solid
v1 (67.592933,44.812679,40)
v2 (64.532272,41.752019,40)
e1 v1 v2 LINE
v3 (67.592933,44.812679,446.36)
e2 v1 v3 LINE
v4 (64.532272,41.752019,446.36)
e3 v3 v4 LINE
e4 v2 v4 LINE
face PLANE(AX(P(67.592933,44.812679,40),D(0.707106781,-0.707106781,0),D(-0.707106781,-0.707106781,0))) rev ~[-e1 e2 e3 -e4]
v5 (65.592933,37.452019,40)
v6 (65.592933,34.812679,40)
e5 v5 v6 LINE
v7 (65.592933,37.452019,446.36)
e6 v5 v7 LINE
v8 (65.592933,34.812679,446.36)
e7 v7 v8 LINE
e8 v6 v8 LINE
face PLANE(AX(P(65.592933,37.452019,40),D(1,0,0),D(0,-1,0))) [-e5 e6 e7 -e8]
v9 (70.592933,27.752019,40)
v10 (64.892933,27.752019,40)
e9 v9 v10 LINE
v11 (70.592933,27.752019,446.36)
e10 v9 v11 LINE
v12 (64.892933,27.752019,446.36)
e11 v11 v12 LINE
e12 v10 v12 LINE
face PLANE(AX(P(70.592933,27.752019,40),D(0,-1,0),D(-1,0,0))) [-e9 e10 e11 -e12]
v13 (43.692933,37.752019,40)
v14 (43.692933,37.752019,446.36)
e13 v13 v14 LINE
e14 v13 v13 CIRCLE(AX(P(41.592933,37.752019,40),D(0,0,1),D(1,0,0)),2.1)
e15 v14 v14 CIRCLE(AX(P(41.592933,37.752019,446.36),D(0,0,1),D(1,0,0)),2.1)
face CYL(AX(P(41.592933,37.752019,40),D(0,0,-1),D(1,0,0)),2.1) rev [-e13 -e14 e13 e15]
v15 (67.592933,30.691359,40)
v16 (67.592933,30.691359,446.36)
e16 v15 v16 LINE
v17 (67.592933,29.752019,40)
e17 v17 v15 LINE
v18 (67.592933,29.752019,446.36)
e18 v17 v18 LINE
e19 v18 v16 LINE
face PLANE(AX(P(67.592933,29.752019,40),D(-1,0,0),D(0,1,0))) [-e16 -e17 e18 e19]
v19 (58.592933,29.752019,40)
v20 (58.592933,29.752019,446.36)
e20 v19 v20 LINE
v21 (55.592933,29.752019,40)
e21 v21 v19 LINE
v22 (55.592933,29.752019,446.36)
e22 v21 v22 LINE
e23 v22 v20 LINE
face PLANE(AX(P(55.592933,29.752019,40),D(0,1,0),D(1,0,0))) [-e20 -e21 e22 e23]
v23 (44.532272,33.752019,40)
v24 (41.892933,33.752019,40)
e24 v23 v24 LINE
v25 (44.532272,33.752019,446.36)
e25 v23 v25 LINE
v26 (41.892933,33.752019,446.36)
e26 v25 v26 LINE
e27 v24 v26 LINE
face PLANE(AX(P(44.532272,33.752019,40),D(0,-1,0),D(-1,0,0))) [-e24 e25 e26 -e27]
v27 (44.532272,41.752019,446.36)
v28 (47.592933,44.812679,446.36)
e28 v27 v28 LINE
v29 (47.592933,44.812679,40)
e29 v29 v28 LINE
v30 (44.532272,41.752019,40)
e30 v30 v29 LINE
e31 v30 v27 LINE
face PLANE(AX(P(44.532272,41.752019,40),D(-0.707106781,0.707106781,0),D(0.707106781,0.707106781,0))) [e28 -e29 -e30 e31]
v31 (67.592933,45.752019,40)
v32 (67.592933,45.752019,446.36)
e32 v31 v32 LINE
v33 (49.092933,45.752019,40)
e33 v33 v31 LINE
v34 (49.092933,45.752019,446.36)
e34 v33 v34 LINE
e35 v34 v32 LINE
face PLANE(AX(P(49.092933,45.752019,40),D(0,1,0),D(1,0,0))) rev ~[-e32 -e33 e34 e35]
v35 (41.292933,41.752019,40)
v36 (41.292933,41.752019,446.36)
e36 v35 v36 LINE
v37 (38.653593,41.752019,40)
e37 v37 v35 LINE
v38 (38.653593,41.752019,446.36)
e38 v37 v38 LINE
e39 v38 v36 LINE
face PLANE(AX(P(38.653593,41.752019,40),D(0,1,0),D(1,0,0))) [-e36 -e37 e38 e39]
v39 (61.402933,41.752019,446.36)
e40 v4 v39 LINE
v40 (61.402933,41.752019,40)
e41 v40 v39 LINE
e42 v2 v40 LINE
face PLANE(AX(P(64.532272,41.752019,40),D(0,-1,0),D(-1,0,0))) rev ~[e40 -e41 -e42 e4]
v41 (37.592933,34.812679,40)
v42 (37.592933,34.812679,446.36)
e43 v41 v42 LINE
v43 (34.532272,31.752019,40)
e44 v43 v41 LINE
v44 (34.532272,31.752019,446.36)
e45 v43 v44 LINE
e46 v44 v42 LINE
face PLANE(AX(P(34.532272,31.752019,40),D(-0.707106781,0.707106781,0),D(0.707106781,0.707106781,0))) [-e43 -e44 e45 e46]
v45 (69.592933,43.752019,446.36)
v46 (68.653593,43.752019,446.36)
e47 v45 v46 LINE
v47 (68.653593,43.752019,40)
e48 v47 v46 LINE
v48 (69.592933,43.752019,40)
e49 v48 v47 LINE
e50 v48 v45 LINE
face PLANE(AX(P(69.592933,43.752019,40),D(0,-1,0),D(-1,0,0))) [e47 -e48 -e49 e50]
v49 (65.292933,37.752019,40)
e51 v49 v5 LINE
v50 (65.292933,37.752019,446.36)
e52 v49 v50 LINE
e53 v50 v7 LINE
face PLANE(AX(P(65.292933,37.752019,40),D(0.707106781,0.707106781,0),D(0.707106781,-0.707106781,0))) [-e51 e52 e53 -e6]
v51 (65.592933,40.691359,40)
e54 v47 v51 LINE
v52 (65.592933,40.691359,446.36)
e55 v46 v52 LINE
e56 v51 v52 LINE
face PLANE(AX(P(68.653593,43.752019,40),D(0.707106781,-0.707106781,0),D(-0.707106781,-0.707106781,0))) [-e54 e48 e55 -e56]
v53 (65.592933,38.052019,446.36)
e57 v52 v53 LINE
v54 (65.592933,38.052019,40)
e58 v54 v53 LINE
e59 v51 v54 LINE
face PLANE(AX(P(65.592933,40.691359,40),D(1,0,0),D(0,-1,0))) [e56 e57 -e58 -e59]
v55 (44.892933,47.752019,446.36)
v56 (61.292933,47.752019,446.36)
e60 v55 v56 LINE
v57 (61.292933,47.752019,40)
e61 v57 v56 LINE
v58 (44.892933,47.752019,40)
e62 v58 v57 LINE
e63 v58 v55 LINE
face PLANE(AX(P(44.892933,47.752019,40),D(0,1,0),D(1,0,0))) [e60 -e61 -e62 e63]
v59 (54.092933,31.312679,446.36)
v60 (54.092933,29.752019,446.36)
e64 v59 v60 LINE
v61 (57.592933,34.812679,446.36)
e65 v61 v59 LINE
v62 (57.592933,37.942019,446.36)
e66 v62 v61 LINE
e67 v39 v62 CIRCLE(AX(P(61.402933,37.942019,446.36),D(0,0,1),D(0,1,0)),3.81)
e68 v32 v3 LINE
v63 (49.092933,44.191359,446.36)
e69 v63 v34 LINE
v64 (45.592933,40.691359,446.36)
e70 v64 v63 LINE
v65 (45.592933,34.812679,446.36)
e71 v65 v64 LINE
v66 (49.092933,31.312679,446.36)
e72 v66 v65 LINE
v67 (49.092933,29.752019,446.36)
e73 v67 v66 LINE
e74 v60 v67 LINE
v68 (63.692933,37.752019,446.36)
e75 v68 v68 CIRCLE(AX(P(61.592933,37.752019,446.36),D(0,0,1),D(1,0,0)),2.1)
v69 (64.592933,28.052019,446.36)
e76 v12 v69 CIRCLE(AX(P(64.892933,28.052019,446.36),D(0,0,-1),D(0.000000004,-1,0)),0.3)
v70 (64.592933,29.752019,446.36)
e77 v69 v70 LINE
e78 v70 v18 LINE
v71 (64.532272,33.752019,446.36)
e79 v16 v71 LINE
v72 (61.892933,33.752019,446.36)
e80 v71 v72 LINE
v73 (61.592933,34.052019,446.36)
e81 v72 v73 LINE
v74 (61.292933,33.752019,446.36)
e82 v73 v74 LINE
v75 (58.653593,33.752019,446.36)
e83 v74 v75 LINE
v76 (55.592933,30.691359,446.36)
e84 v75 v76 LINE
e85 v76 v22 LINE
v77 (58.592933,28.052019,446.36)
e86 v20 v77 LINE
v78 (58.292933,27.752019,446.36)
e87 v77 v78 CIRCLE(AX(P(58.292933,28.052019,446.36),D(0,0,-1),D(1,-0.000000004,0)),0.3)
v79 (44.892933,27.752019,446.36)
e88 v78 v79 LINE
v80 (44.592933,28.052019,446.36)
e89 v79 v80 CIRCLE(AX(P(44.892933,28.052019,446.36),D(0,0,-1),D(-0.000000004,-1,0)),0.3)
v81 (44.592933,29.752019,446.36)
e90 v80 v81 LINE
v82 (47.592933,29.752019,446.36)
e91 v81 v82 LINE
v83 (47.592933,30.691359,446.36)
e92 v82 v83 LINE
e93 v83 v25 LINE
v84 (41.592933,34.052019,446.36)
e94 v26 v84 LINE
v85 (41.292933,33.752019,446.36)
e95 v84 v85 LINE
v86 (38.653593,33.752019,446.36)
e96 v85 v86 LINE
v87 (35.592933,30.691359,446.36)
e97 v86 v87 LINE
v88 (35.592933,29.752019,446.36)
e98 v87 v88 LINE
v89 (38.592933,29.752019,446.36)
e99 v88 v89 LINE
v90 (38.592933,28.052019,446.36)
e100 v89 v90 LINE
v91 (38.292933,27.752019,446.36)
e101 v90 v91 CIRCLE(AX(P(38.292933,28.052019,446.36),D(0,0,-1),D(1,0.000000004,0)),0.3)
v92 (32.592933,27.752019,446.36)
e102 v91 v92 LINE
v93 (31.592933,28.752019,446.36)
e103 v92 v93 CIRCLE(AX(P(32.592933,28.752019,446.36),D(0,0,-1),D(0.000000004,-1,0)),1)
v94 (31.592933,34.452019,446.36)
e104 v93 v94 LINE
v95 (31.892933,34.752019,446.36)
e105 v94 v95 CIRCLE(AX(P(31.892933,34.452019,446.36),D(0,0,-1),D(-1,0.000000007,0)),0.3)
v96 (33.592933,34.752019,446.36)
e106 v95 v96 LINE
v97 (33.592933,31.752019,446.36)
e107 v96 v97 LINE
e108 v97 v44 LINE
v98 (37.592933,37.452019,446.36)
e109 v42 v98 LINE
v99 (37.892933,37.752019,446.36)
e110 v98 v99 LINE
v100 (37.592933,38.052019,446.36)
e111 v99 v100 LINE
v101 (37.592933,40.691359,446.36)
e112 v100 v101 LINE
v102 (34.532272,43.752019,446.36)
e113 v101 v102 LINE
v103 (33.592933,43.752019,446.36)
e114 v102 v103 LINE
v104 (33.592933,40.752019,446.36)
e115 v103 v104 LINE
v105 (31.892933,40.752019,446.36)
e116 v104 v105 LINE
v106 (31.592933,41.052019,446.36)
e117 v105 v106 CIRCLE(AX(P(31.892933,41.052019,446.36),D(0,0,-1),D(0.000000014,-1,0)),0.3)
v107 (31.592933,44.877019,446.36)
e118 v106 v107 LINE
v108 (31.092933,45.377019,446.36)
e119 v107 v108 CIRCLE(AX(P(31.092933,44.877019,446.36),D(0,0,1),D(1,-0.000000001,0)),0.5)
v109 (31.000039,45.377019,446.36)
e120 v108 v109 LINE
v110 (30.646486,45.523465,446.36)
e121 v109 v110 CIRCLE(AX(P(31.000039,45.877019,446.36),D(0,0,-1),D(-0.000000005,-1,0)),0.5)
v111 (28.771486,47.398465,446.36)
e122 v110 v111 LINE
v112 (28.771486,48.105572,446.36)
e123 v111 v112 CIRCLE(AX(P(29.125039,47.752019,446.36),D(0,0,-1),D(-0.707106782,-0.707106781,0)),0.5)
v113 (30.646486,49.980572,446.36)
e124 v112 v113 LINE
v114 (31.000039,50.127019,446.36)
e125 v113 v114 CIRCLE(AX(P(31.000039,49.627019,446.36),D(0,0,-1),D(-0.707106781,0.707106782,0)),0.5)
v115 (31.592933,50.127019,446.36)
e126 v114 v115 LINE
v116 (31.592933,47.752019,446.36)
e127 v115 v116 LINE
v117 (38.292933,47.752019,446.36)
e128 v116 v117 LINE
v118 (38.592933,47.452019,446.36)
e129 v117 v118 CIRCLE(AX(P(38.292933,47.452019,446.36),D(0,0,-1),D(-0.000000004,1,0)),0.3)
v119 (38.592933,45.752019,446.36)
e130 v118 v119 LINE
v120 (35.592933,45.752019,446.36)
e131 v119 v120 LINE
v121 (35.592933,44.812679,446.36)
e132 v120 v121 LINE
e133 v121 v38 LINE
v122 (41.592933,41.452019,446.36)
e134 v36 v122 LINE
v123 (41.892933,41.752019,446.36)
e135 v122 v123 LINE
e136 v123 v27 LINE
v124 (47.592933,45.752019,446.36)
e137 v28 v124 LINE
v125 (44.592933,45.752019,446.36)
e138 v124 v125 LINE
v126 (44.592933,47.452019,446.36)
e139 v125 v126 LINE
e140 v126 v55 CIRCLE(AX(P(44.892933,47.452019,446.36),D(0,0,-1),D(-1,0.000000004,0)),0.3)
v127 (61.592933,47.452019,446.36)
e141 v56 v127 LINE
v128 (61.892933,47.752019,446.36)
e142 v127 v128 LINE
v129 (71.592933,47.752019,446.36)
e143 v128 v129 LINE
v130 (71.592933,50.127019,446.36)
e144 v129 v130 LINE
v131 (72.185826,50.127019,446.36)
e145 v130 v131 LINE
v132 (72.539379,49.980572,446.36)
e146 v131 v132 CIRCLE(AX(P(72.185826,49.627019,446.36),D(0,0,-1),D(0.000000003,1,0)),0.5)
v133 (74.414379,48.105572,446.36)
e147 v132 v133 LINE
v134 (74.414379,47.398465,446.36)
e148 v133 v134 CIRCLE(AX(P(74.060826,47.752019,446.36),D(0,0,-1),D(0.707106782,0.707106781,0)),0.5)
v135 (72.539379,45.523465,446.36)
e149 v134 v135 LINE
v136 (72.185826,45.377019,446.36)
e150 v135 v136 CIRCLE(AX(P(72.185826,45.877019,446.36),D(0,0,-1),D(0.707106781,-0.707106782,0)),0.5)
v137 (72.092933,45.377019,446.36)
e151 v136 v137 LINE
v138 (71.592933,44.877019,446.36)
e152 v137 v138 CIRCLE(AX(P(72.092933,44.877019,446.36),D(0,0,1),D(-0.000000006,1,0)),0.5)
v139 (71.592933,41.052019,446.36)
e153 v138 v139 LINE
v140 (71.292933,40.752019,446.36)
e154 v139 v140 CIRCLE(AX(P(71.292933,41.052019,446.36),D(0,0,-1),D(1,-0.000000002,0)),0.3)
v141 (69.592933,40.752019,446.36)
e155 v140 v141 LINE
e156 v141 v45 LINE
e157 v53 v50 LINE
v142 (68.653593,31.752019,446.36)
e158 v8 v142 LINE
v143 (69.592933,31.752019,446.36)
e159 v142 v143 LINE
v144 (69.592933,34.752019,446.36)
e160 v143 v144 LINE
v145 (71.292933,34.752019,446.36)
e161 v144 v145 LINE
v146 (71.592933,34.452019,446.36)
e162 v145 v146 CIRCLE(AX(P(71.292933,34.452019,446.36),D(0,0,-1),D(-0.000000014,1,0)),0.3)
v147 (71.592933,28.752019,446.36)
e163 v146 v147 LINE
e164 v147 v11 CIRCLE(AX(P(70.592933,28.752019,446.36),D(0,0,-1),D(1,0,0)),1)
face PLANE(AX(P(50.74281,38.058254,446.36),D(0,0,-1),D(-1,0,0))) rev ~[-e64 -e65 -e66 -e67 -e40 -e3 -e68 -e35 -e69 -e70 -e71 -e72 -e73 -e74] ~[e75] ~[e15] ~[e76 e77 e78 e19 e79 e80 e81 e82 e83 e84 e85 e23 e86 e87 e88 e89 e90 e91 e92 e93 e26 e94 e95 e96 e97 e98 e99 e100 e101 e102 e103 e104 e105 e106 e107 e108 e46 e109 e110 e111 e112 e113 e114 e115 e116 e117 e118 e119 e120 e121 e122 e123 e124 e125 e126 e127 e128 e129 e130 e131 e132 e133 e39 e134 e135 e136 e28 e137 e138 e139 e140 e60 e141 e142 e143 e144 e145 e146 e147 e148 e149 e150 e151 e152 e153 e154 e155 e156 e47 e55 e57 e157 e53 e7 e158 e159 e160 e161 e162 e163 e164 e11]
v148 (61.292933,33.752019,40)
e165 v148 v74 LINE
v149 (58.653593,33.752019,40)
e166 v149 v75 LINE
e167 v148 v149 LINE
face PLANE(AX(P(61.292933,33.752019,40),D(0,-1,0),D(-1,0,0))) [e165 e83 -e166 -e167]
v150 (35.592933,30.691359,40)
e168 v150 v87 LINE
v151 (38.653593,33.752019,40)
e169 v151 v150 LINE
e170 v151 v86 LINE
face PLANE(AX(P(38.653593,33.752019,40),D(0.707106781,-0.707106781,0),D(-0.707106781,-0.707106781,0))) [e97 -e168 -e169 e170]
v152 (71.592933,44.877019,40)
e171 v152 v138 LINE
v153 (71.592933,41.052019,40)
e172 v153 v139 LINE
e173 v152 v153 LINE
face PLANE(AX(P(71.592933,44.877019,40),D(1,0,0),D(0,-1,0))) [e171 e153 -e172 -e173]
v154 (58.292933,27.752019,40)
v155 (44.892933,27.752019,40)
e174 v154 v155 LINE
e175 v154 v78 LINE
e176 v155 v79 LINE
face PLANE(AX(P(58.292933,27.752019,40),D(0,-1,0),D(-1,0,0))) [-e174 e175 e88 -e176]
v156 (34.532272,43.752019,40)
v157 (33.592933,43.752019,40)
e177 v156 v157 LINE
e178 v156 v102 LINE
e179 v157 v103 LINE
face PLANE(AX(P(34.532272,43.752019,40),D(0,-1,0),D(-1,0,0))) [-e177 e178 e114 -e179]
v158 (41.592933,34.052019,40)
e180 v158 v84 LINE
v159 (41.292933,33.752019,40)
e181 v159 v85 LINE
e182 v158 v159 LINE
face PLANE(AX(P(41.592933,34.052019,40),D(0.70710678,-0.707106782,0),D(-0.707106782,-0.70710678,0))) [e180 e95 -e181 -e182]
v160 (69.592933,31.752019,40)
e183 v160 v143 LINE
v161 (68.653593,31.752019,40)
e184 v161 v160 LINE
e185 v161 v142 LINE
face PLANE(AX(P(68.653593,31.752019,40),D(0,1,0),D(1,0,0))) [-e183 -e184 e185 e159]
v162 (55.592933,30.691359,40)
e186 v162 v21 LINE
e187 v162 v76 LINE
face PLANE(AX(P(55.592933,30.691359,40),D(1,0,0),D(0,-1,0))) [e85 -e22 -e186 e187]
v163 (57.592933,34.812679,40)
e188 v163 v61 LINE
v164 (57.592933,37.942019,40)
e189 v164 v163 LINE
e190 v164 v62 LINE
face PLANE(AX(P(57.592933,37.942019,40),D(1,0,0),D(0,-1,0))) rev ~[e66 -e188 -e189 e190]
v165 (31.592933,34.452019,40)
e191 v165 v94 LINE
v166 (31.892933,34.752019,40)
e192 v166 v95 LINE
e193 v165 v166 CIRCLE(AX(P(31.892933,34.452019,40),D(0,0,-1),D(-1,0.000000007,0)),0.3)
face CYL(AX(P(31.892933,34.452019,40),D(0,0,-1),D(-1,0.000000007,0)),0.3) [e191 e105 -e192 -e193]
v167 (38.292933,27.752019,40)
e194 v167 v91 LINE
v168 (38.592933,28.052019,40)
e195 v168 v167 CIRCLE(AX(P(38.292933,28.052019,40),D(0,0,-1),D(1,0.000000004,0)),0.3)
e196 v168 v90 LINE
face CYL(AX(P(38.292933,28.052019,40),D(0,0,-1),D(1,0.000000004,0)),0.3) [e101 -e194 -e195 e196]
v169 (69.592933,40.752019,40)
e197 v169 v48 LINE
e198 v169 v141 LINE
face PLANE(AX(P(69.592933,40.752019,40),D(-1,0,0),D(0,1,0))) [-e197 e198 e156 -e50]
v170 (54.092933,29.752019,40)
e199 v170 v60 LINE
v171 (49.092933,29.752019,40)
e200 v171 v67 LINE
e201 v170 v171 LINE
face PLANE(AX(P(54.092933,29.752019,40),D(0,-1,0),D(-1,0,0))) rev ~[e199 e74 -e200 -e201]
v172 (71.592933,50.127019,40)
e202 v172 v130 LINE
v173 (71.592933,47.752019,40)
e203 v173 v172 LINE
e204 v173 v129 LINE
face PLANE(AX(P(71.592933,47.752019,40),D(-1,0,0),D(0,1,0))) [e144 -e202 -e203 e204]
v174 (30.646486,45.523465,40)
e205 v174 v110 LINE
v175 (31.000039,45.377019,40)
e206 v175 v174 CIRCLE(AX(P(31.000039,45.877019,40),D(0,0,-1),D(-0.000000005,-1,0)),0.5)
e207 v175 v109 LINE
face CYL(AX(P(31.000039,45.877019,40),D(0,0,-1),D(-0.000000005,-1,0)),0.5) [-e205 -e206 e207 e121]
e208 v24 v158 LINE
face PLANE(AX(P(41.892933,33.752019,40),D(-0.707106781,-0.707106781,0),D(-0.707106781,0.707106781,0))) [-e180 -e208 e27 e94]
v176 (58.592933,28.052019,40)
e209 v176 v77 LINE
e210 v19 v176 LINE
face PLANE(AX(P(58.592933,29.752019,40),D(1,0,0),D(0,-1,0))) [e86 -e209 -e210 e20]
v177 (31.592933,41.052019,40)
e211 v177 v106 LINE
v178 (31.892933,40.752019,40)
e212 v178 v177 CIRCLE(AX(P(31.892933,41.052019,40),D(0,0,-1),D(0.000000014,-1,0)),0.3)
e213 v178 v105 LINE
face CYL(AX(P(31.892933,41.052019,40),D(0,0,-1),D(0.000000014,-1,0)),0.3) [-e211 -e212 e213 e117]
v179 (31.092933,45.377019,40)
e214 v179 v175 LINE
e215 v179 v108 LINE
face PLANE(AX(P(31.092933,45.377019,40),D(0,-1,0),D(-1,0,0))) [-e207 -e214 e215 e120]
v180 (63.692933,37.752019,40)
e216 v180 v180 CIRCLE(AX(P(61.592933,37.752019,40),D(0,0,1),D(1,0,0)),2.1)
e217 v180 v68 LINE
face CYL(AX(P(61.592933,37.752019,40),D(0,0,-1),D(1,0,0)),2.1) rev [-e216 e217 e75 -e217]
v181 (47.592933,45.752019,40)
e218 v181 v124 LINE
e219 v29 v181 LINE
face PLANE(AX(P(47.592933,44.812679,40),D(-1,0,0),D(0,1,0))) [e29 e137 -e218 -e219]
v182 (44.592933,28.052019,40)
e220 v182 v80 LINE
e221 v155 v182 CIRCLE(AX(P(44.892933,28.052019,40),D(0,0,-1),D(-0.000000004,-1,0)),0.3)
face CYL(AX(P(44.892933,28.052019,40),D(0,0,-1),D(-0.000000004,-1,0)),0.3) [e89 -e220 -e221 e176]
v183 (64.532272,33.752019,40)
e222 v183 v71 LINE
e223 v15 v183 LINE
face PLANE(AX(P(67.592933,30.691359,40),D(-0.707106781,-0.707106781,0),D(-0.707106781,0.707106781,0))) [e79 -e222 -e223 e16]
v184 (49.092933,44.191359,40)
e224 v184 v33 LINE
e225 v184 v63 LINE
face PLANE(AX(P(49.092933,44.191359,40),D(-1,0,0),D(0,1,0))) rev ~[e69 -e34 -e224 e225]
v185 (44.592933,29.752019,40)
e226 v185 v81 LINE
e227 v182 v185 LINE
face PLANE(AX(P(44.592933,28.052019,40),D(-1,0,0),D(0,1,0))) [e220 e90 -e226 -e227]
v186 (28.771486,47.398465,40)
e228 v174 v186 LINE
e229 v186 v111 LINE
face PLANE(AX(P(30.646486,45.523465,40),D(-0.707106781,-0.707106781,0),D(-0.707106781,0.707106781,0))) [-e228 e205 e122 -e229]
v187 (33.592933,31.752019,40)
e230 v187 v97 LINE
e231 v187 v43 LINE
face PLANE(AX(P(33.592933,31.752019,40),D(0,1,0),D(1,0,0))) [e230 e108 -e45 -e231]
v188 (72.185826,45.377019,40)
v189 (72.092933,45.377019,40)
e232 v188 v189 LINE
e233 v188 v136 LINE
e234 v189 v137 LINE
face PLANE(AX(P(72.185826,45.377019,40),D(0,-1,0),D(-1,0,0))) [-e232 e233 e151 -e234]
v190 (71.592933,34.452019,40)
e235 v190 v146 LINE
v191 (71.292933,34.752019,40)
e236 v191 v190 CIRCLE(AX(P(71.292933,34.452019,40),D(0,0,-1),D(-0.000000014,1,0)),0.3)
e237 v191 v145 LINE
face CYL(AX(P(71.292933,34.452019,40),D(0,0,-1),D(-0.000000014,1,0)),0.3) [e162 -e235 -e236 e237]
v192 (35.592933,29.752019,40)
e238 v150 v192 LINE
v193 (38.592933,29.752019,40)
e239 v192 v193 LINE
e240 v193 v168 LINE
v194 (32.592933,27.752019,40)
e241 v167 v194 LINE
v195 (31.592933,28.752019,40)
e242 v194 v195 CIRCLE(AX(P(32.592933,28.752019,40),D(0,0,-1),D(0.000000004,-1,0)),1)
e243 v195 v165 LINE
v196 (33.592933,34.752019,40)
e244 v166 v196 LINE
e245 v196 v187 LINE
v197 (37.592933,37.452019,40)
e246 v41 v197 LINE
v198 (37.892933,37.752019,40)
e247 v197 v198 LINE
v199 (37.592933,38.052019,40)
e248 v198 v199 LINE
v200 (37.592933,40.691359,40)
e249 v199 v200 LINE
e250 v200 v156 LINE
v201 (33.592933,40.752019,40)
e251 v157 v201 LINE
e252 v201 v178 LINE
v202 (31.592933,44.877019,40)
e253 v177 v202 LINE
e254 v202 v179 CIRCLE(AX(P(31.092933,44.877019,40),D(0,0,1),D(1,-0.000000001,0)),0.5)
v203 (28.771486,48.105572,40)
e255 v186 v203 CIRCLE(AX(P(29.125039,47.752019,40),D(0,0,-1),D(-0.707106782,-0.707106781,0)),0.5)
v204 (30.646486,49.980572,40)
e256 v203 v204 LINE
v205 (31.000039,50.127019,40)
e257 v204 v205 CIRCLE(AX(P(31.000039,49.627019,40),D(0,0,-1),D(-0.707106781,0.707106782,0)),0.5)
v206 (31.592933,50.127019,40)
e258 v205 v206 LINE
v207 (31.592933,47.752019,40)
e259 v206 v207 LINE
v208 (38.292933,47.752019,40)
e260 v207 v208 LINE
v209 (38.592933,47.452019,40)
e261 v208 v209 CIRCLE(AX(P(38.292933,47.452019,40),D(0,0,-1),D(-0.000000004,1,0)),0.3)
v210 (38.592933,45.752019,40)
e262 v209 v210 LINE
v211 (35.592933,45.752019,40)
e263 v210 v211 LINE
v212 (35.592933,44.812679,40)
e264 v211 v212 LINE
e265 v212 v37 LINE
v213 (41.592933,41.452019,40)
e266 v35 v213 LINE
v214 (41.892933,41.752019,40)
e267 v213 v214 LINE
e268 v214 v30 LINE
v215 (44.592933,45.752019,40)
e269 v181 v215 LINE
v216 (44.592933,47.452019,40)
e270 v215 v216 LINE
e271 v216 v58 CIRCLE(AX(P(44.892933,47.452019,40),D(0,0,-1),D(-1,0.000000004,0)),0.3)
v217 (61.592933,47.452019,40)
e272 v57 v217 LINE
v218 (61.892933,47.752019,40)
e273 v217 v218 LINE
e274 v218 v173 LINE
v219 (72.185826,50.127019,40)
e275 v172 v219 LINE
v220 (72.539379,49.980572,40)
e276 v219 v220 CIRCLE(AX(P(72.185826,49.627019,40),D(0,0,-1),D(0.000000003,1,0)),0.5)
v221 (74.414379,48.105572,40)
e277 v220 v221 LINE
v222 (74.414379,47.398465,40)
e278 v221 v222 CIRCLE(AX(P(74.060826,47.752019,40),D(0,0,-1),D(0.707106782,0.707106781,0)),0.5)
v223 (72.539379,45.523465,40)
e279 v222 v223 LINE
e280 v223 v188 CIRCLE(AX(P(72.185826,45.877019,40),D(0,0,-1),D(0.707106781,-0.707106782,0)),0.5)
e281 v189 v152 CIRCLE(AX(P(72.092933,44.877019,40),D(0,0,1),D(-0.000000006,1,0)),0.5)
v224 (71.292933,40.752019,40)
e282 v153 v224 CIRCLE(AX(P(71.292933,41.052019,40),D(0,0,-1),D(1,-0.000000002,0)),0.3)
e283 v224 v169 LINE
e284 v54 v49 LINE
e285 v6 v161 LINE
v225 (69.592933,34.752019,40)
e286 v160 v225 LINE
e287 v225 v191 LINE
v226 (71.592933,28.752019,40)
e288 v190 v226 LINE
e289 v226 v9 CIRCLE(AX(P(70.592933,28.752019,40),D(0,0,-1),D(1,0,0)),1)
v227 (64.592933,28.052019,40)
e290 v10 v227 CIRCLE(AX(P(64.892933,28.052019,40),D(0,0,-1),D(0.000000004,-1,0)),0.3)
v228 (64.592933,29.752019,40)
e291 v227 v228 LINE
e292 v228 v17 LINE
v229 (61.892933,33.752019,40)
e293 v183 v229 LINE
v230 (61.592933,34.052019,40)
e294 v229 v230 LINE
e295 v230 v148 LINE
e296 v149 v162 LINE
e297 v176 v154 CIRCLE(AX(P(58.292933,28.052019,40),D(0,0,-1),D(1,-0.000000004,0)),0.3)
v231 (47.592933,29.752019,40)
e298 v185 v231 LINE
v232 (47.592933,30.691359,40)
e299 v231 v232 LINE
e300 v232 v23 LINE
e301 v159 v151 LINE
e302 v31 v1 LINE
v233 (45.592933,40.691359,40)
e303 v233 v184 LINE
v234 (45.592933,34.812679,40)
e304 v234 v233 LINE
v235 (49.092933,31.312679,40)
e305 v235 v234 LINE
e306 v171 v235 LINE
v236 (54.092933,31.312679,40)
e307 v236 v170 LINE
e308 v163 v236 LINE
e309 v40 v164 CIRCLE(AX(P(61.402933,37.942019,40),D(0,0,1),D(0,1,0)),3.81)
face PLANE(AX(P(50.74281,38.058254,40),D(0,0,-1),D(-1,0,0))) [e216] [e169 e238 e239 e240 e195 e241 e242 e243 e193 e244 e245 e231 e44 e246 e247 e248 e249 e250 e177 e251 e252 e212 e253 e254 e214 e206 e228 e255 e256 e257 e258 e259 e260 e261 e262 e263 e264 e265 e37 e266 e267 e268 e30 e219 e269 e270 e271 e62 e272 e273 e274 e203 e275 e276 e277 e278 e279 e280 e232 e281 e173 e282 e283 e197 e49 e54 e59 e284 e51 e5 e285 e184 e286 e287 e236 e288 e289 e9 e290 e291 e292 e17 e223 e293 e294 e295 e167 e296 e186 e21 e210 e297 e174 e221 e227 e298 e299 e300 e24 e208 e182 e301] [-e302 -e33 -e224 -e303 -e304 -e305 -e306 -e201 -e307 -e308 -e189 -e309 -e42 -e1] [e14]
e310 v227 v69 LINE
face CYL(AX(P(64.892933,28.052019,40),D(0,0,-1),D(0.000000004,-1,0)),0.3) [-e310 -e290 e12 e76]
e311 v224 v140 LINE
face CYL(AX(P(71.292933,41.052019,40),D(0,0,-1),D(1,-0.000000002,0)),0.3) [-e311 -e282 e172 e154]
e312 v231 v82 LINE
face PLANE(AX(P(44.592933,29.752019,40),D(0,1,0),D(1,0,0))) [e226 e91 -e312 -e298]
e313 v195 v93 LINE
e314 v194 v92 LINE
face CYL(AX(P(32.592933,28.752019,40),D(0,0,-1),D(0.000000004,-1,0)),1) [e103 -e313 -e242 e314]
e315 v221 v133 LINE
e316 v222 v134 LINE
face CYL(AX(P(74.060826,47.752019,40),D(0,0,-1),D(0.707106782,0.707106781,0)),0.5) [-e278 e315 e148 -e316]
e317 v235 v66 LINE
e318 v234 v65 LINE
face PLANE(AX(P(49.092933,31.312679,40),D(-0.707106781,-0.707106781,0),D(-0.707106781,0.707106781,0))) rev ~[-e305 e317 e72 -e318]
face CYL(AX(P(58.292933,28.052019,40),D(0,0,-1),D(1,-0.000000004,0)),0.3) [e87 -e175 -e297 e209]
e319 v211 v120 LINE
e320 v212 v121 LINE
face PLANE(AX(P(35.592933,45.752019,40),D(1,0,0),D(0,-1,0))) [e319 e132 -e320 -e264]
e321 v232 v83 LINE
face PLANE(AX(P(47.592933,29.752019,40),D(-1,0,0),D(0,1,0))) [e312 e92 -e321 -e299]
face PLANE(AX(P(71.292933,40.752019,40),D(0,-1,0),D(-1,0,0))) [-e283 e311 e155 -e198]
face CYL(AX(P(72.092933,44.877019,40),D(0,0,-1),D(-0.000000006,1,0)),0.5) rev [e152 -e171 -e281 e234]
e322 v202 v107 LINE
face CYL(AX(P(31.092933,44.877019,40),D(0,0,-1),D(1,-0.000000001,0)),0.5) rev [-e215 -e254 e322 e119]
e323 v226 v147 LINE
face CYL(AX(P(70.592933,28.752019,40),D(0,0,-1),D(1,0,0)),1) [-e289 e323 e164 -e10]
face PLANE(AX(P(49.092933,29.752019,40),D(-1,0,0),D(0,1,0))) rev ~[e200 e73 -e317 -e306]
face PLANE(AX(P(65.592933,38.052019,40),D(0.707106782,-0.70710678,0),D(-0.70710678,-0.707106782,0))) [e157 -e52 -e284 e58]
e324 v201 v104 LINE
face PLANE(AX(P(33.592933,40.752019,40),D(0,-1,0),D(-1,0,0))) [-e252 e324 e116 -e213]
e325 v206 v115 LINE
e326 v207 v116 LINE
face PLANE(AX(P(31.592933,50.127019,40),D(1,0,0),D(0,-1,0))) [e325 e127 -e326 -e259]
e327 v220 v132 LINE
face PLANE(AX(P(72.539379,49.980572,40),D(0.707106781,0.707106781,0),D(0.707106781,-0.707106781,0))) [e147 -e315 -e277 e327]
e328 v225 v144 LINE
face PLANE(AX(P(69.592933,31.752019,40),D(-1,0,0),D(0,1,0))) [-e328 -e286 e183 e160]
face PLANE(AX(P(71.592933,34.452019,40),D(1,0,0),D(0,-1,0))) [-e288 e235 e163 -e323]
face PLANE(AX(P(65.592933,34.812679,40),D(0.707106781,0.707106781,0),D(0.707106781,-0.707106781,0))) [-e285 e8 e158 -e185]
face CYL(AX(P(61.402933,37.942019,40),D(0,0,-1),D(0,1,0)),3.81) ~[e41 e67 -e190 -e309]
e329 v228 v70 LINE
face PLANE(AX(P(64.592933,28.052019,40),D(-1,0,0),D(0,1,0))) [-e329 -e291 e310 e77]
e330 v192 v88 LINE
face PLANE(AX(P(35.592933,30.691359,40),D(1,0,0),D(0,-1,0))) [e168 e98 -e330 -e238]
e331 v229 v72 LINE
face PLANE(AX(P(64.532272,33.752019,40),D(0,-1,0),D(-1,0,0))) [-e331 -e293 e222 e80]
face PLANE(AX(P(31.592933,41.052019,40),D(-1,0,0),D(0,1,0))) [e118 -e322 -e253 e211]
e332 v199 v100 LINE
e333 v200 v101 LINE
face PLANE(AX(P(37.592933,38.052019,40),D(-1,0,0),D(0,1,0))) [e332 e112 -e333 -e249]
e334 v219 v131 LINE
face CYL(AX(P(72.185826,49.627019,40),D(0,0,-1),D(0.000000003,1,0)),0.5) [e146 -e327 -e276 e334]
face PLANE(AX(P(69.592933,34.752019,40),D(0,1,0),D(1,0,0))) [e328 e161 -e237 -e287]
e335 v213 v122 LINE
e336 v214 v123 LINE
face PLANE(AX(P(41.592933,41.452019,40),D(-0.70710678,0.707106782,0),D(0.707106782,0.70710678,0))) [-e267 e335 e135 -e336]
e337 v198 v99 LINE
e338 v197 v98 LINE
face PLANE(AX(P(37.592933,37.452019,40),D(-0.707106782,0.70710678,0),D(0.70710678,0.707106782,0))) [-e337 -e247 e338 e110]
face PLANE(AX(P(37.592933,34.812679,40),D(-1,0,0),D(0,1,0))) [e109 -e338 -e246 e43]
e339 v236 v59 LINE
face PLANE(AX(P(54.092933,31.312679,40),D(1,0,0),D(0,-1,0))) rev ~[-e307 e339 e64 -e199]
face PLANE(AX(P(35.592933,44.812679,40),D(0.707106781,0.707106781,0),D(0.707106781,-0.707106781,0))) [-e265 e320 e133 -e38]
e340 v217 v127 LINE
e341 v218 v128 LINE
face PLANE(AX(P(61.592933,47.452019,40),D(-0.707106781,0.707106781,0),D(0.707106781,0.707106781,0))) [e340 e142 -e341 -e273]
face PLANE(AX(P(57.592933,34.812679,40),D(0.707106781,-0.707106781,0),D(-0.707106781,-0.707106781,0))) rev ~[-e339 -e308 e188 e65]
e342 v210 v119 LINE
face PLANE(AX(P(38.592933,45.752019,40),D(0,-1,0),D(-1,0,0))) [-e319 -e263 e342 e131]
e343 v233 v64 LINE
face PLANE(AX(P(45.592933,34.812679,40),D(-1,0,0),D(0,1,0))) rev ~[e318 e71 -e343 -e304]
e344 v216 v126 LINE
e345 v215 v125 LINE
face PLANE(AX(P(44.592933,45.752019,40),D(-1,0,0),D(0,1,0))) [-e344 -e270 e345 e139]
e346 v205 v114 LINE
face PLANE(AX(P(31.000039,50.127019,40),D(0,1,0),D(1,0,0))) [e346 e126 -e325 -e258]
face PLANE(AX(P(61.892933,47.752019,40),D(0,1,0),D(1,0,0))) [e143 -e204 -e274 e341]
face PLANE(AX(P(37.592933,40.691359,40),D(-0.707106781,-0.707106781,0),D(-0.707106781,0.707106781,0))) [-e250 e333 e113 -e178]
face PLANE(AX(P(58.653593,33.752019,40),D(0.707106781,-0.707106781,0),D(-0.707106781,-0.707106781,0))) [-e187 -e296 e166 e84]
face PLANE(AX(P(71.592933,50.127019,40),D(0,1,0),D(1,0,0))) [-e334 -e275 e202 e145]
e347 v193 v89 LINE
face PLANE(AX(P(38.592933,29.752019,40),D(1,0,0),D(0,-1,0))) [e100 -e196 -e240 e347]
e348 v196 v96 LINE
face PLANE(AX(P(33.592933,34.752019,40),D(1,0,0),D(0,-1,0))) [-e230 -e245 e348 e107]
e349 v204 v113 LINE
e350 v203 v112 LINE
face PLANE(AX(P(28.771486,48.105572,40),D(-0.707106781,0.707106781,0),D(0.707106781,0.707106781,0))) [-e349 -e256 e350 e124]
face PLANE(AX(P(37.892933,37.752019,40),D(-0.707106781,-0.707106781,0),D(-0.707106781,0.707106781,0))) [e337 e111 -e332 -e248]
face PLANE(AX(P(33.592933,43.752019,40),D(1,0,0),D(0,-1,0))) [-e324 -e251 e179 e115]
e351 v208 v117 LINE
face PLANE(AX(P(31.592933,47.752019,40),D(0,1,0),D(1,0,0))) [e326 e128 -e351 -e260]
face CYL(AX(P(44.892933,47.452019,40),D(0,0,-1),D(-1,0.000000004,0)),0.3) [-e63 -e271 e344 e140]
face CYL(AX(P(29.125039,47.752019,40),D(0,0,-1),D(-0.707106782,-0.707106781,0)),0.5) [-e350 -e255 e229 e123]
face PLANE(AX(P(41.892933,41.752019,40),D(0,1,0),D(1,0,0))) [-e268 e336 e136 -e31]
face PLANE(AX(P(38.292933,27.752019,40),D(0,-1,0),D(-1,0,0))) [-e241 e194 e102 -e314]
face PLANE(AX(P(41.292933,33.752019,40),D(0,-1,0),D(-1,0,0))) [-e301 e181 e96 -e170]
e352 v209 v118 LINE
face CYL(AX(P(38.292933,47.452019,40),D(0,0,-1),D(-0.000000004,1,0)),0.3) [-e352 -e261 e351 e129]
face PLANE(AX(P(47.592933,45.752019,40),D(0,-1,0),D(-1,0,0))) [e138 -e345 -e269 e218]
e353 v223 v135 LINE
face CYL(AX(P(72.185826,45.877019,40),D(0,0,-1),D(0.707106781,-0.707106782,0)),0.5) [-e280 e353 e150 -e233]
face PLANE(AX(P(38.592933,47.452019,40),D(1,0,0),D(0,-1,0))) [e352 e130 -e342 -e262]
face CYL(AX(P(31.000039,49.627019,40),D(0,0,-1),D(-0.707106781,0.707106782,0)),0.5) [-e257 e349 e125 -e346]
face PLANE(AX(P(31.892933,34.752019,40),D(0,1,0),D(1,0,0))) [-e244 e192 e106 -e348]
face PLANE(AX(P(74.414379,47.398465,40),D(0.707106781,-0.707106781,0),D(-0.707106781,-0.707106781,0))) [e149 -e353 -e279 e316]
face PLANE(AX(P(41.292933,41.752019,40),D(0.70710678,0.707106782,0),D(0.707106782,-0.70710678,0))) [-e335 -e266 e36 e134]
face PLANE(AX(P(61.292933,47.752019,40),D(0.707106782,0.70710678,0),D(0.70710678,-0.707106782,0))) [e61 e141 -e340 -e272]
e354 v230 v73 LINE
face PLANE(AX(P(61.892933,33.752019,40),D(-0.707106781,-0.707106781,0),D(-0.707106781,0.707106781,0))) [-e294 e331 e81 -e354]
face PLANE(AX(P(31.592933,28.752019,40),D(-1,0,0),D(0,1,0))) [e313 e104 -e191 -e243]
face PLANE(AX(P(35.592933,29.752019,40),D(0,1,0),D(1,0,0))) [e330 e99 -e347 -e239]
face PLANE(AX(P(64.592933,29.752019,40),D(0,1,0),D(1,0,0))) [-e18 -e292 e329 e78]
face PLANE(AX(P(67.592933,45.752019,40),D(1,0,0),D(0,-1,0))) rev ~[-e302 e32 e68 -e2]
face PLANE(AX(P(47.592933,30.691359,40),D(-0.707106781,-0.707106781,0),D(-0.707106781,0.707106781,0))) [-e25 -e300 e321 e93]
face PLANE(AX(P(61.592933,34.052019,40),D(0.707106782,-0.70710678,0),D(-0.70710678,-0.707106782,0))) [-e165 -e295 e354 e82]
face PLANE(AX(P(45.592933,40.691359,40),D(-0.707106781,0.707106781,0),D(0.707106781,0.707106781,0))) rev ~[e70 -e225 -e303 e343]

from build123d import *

# Parameters (mm, degrees)
BOSS_EXTRUDE1_START = 40
MODEL_R             = 2.100000001
BOSS_EXTRUDE1_DEPTH = 406.36


with BuildPart() as part:
    # Model → Boss-Extrude1 (new body)
    with BuildSketch(Plane.XY.offset(BOSS_EXTRUDE1_START)):
        with BuildLine():
            Line((28.771485975, 48.105572105), (30.646485975, 49.980572105))
            ThreePointArc((30.646485975, 49.980572105), (30.808697649, 50.08895848), (31.000039365, 50.127018713))
            Line((31.000039365, 50.127018713), (31.592932584, 50.127018713))
            Line((31.592932584, 50.127018713), (31.592932584, 47.752018713))
            Line((31.592932584, 47.752018713), (38.292932585, 47.752018713))
            ThreePointArc((38.292932585, 47.752018713), (38.505064619, 47.664150748), (38.592932584, 47.452018714))
            Line((38.592932584, 47.452018714), (38.592932584, 45.752018713))
            Line((38.592932584, 45.752018713), (35.592932585, 45.752018713))
            Line((35.592932585, 45.752018713), (35.592932585, 44.812678885))
            Line((35.592932585, 44.812678885), (38.653592756, 41.752018713))
            Line((38.653592756, 41.752018713), (41.292932583, 41.752018713))
            Line((41.292932583, 41.752018713), (41.592932584, 41.452018713))
            Line((41.592932584, 41.452018713), (41.892932586, 41.752018714))
            Line((41.892932586, 41.752018714), (44.532272412, 41.752018714))
            Line((44.532272412, 41.752018714), (47.592932584, 44.812678886))
            Line((47.592932584, 44.812678886), (47.592932584, 45.752018714))
            Line((47.592932584, 45.752018714), (44.592932584, 45.752018714))
            Line((44.592932584, 45.752018714), (44.592932584, 47.452018715))
            ThreePointArc((44.592932584, 47.452018715), (44.68080055, 47.664150749), (44.892932584, 47.752018715))
            Line((44.892932584, 47.752018715), (61.292932583, 47.752018715))
            Line((61.292932583, 47.752018715), (61.592932582, 47.452018715))
            Line((61.592932582, 47.452018715), (61.892932583, 47.752018716))
            Line((61.892932583, 47.752018716), (71.592932583, 47.752018716))
            Line((71.592932583, 47.752018716), (71.592932583, 50.127018711))
            Line((71.592932583, 50.127018711), (72.185825802, 50.127018711))
            ThreePointArc((72.185825802, 50.127018711), (72.377167518, 50.088958477), (72.539379192, 49.980572102))
            Line((72.539379192, 49.980572102), (74.414379192, 48.105572102))
            ThreePointArc((74.414379192, 48.105572102), (74.560825801, 47.752018712), (74.414379192, 47.398465322))
            Line((74.414379192, 47.398465322), (72.539379192, 45.523465322))
            ThreePointArc((72.539379192, 45.523465322), (72.377167518, 45.415078947), (72.185825802, 45.377018714))
            Line((72.185825802, 45.377018714), (72.092932582, 45.377018714))
            ThreePointArc((72.092932582, 45.377018714), (71.739379192, 45.230572103), (71.592932583, 44.877018713))
            Line((71.592932583, 44.877018713), (71.592932583, 41.052018712))
            ThreePointArc((71.592932583, 41.052018712), (71.505064617, 40.839886678), (71.292932581, 40.752018713))
            Line((71.292932581, 40.752018713), (69.592932583, 40.752018713))
            Line((69.592932583, 40.752018713), (69.592932583, 43.752018712))
            Line((69.592932583, 43.752018712), (68.653592755, 43.752018712))
            Line((68.653592755, 43.752018712), (65.592932583, 40.691358541))
            Line((65.592932583, 40.691358541), (65.592932583, 38.052018712))
            Line((65.592932583, 38.052018712), (65.292932584, 37.752018712))
            Line((65.292932584, 37.752018712), (65.592932583, 37.452018713))
            Line((65.592932583, 37.452018713), (65.592932583, 34.812678884))
            Line((65.592932583, 34.812678884), (68.653592755, 31.752018712))
            Line((68.653592755, 31.752018712), (69.592932583, 31.752018712))
            Line((69.592932583, 31.752018712), (69.592932583, 34.752018711))
            Line((69.592932583, 34.752018711), (71.292932581, 34.752018711))
            ThreePointArc((71.292932581, 34.752018711), (71.505064617, 34.664150747), (71.592932583, 34.452018712))
            Line((71.592932583, 34.452018712), (71.592932583, 28.75201871))
            ThreePointArc((71.592932583, 28.75201871), (71.300039364, 28.044911929), (70.592932582, 27.752018711))
            Line((70.592932582, 27.752018711), (64.892932582, 27.752018711))
            ThreePointArc((64.892932582, 27.752018711), (64.680800548, 27.839886676), (64.592932583, 28.05201871))
            Line((64.592932583, 28.05201871), (64.592932583, 29.752018711))
            Line((64.592932583, 29.752018711), (67.592932582, 29.752018711))
            Line((67.592932582, 29.752018711), (67.592932582, 30.69135854))
            Line((67.592932582, 30.69135854), (64.532272411, 33.752018711))
            Line((64.532272411, 33.752018711), (61.892932584, 33.752018711))
            Line((61.892932584, 33.752018711), (61.592932582, 34.052018713))
            Line((61.592932582, 34.052018713), (61.292932582, 33.752018712))
            Line((61.292932582, 33.752018712), (58.653592755, 33.752018712))
            Line((58.653592755, 33.752018712), (55.592932583, 30.691358541))
            Line((55.592932583, 30.691358541), (55.592932583, 29.752018713))
            Line((55.592932583, 29.752018713), (58.592932583, 29.752018713))
            Line((58.592932583, 29.752018713), (58.592932583, 28.052018712))
            ThreePointArc((58.592932583, 28.052018712), (58.505064617, 27.839886678), (58.292932583, 27.752018712))
            Line((58.292932583, 27.752018712), (44.892932584, 27.752018712))
            ThreePointArc((44.892932584, 27.752018712), (44.68080055, 27.839886678), (44.592932584, 28.052018712))
            Line((44.592932584, 28.052018712), (44.592932584, 29.752018713))
            Line((44.592932584, 29.752018713), (47.592932584, 29.752018713))
            Line((47.592932584, 29.752018713), (47.592932584, 30.691358541))
            Line((47.592932584, 30.691358541), (44.532272412, 33.752018712))
            Line((44.532272412, 33.752018712), (41.892932586, 33.752018712))
            Line((41.892932586, 33.752018712), (41.592932584, 34.052018714))
            Line((41.592932584, 34.052018714), (41.292932583, 33.752018714))
            Line((41.292932583, 33.752018714), (38.653592756, 33.752018714))
            Line((38.653592756, 33.752018714), (35.592932585, 30.691358542))
            Line((35.592932585, 30.691358542), (35.592932585, 29.752018714))
            Line((35.592932585, 29.752018714), (38.592932584, 29.752018714))
            Line((38.592932584, 29.752018714), (38.592932584, 28.052018713))
            ThreePointArc((38.592932584, 28.052018713), (38.505064619, 27.839886679), (38.292932585, 27.752018714))
            Line((38.292932585, 27.752018714), (32.592932585, 27.752018714))
            ThreePointArc((32.592932585, 27.752018714), (31.885825803, 28.044911931), (31.592932584, 28.752018713))
            Line((31.592932584, 28.752018713), (31.592932584, 34.452018715))
            ThreePointArc((31.592932584, 34.452018715), (31.68080055, 34.664150748), (31.892932583, 34.752018714))
            Line((31.892932583, 34.752018714), (33.592932584, 34.752018714))
            Line((33.592932584, 34.752018714), (33.592932584, 31.752018715))
            Line((33.592932584, 31.752018715), (34.532272412, 31.752018715))
            Line((34.532272412, 31.752018715), (37.592932584, 34.812678886))
            Line((37.592932584, 34.812678886), (37.592932584, 37.452018715))
            Line((37.592932584, 37.452018715), (37.892932583, 37.752018715))
            Line((37.892932583, 37.752018715), (37.592932584, 38.052018714))
            Line((37.592932584, 38.052018714), (37.592932584, 40.691358543))
            Line((37.592932584, 40.691358543), (34.532272412, 43.752018715))
            Line((34.532272412, 43.752018715), (33.592932584, 43.752018715))
            Line((33.592932584, 43.752018715), (33.592932584, 40.752018716))
            Line((33.592932584, 40.752018716), (31.892932586, 40.752018716))
            ThreePointArc((31.892932586, 40.752018716), (31.68080055, 40.83988668), (31.592932584, 41.052018715))
            Line((31.592932584, 41.052018715), (31.592932584, 44.877018715))
            ThreePointArc((31.592932584, 44.877018715), (31.446485975, 45.230572106), (31.092932585, 45.377018716))
            Line((31.092932585, 45.377018716), (31.000039365, 45.377018716))
            ThreePointArc((31.000039365, 45.377018716), (30.808697649, 45.41507895), (30.646485975, 45.523465324))
            Line((30.646485975, 45.523465324), (28.771485975, 47.398465325))
            ThreePointArc((28.771485975, 47.398465325), (28.625039366, 47.752018715), (28.771485975, 48.105572105))
        make_face()
        with Locations((61.592932582, 37.752018715)):
            Circle(MODEL_R, mode=Mode.SUBTRACT)
        with Locations((41.592932582, 37.752018715)):
            Circle(MODEL_R, mode=Mode.SUBTRACT)
        with BuildLine():
            Line((54.092932584, 29.752018715), (49.092932584, 29.752018715))
            Line((49.092932584, 29.752018715), (49.092932584, 31.312678886))
            Line((49.092932584, 31.312678886), (45.592932583, 34.812678886))
            Line((45.592932583, 34.812678886), (45.592932583, 40.691358543))
            Line((45.592932583, 40.691358543), (49.092932584, 44.191358544))
            Line((49.092932584, 44.191358544), (49.092932584, 45.752018714))
            Line((49.092932584, 45.752018714), (67.592932582, 45.752018714))
            Line((67.592932582, 45.752018714), (67.592932582, 44.812678887))
            Line((67.592932582, 44.812678887), (64.532272411, 41.752018716))
            Line((64.532272411, 41.752018716), (61.402932584, 41.752018716))
            ThreePointArc((61.402932584, 41.752018716), (58.708855747, 40.636095552), (57.592932584, 37.942018716))
            Line((57.592932584, 37.942018716), (57.592932584, 34.812678886))
            Line((57.592932584, 34.812678886), (54.092932584, 31.312678886))
            Line((54.092932584, 31.312678886), (54.092932584, 29.752018715))
        make_face(mode=Mode.SUBTRACT)
    extrude(amount=BOSS_EXTRUDE1_DEPTH)


solid = part.part
